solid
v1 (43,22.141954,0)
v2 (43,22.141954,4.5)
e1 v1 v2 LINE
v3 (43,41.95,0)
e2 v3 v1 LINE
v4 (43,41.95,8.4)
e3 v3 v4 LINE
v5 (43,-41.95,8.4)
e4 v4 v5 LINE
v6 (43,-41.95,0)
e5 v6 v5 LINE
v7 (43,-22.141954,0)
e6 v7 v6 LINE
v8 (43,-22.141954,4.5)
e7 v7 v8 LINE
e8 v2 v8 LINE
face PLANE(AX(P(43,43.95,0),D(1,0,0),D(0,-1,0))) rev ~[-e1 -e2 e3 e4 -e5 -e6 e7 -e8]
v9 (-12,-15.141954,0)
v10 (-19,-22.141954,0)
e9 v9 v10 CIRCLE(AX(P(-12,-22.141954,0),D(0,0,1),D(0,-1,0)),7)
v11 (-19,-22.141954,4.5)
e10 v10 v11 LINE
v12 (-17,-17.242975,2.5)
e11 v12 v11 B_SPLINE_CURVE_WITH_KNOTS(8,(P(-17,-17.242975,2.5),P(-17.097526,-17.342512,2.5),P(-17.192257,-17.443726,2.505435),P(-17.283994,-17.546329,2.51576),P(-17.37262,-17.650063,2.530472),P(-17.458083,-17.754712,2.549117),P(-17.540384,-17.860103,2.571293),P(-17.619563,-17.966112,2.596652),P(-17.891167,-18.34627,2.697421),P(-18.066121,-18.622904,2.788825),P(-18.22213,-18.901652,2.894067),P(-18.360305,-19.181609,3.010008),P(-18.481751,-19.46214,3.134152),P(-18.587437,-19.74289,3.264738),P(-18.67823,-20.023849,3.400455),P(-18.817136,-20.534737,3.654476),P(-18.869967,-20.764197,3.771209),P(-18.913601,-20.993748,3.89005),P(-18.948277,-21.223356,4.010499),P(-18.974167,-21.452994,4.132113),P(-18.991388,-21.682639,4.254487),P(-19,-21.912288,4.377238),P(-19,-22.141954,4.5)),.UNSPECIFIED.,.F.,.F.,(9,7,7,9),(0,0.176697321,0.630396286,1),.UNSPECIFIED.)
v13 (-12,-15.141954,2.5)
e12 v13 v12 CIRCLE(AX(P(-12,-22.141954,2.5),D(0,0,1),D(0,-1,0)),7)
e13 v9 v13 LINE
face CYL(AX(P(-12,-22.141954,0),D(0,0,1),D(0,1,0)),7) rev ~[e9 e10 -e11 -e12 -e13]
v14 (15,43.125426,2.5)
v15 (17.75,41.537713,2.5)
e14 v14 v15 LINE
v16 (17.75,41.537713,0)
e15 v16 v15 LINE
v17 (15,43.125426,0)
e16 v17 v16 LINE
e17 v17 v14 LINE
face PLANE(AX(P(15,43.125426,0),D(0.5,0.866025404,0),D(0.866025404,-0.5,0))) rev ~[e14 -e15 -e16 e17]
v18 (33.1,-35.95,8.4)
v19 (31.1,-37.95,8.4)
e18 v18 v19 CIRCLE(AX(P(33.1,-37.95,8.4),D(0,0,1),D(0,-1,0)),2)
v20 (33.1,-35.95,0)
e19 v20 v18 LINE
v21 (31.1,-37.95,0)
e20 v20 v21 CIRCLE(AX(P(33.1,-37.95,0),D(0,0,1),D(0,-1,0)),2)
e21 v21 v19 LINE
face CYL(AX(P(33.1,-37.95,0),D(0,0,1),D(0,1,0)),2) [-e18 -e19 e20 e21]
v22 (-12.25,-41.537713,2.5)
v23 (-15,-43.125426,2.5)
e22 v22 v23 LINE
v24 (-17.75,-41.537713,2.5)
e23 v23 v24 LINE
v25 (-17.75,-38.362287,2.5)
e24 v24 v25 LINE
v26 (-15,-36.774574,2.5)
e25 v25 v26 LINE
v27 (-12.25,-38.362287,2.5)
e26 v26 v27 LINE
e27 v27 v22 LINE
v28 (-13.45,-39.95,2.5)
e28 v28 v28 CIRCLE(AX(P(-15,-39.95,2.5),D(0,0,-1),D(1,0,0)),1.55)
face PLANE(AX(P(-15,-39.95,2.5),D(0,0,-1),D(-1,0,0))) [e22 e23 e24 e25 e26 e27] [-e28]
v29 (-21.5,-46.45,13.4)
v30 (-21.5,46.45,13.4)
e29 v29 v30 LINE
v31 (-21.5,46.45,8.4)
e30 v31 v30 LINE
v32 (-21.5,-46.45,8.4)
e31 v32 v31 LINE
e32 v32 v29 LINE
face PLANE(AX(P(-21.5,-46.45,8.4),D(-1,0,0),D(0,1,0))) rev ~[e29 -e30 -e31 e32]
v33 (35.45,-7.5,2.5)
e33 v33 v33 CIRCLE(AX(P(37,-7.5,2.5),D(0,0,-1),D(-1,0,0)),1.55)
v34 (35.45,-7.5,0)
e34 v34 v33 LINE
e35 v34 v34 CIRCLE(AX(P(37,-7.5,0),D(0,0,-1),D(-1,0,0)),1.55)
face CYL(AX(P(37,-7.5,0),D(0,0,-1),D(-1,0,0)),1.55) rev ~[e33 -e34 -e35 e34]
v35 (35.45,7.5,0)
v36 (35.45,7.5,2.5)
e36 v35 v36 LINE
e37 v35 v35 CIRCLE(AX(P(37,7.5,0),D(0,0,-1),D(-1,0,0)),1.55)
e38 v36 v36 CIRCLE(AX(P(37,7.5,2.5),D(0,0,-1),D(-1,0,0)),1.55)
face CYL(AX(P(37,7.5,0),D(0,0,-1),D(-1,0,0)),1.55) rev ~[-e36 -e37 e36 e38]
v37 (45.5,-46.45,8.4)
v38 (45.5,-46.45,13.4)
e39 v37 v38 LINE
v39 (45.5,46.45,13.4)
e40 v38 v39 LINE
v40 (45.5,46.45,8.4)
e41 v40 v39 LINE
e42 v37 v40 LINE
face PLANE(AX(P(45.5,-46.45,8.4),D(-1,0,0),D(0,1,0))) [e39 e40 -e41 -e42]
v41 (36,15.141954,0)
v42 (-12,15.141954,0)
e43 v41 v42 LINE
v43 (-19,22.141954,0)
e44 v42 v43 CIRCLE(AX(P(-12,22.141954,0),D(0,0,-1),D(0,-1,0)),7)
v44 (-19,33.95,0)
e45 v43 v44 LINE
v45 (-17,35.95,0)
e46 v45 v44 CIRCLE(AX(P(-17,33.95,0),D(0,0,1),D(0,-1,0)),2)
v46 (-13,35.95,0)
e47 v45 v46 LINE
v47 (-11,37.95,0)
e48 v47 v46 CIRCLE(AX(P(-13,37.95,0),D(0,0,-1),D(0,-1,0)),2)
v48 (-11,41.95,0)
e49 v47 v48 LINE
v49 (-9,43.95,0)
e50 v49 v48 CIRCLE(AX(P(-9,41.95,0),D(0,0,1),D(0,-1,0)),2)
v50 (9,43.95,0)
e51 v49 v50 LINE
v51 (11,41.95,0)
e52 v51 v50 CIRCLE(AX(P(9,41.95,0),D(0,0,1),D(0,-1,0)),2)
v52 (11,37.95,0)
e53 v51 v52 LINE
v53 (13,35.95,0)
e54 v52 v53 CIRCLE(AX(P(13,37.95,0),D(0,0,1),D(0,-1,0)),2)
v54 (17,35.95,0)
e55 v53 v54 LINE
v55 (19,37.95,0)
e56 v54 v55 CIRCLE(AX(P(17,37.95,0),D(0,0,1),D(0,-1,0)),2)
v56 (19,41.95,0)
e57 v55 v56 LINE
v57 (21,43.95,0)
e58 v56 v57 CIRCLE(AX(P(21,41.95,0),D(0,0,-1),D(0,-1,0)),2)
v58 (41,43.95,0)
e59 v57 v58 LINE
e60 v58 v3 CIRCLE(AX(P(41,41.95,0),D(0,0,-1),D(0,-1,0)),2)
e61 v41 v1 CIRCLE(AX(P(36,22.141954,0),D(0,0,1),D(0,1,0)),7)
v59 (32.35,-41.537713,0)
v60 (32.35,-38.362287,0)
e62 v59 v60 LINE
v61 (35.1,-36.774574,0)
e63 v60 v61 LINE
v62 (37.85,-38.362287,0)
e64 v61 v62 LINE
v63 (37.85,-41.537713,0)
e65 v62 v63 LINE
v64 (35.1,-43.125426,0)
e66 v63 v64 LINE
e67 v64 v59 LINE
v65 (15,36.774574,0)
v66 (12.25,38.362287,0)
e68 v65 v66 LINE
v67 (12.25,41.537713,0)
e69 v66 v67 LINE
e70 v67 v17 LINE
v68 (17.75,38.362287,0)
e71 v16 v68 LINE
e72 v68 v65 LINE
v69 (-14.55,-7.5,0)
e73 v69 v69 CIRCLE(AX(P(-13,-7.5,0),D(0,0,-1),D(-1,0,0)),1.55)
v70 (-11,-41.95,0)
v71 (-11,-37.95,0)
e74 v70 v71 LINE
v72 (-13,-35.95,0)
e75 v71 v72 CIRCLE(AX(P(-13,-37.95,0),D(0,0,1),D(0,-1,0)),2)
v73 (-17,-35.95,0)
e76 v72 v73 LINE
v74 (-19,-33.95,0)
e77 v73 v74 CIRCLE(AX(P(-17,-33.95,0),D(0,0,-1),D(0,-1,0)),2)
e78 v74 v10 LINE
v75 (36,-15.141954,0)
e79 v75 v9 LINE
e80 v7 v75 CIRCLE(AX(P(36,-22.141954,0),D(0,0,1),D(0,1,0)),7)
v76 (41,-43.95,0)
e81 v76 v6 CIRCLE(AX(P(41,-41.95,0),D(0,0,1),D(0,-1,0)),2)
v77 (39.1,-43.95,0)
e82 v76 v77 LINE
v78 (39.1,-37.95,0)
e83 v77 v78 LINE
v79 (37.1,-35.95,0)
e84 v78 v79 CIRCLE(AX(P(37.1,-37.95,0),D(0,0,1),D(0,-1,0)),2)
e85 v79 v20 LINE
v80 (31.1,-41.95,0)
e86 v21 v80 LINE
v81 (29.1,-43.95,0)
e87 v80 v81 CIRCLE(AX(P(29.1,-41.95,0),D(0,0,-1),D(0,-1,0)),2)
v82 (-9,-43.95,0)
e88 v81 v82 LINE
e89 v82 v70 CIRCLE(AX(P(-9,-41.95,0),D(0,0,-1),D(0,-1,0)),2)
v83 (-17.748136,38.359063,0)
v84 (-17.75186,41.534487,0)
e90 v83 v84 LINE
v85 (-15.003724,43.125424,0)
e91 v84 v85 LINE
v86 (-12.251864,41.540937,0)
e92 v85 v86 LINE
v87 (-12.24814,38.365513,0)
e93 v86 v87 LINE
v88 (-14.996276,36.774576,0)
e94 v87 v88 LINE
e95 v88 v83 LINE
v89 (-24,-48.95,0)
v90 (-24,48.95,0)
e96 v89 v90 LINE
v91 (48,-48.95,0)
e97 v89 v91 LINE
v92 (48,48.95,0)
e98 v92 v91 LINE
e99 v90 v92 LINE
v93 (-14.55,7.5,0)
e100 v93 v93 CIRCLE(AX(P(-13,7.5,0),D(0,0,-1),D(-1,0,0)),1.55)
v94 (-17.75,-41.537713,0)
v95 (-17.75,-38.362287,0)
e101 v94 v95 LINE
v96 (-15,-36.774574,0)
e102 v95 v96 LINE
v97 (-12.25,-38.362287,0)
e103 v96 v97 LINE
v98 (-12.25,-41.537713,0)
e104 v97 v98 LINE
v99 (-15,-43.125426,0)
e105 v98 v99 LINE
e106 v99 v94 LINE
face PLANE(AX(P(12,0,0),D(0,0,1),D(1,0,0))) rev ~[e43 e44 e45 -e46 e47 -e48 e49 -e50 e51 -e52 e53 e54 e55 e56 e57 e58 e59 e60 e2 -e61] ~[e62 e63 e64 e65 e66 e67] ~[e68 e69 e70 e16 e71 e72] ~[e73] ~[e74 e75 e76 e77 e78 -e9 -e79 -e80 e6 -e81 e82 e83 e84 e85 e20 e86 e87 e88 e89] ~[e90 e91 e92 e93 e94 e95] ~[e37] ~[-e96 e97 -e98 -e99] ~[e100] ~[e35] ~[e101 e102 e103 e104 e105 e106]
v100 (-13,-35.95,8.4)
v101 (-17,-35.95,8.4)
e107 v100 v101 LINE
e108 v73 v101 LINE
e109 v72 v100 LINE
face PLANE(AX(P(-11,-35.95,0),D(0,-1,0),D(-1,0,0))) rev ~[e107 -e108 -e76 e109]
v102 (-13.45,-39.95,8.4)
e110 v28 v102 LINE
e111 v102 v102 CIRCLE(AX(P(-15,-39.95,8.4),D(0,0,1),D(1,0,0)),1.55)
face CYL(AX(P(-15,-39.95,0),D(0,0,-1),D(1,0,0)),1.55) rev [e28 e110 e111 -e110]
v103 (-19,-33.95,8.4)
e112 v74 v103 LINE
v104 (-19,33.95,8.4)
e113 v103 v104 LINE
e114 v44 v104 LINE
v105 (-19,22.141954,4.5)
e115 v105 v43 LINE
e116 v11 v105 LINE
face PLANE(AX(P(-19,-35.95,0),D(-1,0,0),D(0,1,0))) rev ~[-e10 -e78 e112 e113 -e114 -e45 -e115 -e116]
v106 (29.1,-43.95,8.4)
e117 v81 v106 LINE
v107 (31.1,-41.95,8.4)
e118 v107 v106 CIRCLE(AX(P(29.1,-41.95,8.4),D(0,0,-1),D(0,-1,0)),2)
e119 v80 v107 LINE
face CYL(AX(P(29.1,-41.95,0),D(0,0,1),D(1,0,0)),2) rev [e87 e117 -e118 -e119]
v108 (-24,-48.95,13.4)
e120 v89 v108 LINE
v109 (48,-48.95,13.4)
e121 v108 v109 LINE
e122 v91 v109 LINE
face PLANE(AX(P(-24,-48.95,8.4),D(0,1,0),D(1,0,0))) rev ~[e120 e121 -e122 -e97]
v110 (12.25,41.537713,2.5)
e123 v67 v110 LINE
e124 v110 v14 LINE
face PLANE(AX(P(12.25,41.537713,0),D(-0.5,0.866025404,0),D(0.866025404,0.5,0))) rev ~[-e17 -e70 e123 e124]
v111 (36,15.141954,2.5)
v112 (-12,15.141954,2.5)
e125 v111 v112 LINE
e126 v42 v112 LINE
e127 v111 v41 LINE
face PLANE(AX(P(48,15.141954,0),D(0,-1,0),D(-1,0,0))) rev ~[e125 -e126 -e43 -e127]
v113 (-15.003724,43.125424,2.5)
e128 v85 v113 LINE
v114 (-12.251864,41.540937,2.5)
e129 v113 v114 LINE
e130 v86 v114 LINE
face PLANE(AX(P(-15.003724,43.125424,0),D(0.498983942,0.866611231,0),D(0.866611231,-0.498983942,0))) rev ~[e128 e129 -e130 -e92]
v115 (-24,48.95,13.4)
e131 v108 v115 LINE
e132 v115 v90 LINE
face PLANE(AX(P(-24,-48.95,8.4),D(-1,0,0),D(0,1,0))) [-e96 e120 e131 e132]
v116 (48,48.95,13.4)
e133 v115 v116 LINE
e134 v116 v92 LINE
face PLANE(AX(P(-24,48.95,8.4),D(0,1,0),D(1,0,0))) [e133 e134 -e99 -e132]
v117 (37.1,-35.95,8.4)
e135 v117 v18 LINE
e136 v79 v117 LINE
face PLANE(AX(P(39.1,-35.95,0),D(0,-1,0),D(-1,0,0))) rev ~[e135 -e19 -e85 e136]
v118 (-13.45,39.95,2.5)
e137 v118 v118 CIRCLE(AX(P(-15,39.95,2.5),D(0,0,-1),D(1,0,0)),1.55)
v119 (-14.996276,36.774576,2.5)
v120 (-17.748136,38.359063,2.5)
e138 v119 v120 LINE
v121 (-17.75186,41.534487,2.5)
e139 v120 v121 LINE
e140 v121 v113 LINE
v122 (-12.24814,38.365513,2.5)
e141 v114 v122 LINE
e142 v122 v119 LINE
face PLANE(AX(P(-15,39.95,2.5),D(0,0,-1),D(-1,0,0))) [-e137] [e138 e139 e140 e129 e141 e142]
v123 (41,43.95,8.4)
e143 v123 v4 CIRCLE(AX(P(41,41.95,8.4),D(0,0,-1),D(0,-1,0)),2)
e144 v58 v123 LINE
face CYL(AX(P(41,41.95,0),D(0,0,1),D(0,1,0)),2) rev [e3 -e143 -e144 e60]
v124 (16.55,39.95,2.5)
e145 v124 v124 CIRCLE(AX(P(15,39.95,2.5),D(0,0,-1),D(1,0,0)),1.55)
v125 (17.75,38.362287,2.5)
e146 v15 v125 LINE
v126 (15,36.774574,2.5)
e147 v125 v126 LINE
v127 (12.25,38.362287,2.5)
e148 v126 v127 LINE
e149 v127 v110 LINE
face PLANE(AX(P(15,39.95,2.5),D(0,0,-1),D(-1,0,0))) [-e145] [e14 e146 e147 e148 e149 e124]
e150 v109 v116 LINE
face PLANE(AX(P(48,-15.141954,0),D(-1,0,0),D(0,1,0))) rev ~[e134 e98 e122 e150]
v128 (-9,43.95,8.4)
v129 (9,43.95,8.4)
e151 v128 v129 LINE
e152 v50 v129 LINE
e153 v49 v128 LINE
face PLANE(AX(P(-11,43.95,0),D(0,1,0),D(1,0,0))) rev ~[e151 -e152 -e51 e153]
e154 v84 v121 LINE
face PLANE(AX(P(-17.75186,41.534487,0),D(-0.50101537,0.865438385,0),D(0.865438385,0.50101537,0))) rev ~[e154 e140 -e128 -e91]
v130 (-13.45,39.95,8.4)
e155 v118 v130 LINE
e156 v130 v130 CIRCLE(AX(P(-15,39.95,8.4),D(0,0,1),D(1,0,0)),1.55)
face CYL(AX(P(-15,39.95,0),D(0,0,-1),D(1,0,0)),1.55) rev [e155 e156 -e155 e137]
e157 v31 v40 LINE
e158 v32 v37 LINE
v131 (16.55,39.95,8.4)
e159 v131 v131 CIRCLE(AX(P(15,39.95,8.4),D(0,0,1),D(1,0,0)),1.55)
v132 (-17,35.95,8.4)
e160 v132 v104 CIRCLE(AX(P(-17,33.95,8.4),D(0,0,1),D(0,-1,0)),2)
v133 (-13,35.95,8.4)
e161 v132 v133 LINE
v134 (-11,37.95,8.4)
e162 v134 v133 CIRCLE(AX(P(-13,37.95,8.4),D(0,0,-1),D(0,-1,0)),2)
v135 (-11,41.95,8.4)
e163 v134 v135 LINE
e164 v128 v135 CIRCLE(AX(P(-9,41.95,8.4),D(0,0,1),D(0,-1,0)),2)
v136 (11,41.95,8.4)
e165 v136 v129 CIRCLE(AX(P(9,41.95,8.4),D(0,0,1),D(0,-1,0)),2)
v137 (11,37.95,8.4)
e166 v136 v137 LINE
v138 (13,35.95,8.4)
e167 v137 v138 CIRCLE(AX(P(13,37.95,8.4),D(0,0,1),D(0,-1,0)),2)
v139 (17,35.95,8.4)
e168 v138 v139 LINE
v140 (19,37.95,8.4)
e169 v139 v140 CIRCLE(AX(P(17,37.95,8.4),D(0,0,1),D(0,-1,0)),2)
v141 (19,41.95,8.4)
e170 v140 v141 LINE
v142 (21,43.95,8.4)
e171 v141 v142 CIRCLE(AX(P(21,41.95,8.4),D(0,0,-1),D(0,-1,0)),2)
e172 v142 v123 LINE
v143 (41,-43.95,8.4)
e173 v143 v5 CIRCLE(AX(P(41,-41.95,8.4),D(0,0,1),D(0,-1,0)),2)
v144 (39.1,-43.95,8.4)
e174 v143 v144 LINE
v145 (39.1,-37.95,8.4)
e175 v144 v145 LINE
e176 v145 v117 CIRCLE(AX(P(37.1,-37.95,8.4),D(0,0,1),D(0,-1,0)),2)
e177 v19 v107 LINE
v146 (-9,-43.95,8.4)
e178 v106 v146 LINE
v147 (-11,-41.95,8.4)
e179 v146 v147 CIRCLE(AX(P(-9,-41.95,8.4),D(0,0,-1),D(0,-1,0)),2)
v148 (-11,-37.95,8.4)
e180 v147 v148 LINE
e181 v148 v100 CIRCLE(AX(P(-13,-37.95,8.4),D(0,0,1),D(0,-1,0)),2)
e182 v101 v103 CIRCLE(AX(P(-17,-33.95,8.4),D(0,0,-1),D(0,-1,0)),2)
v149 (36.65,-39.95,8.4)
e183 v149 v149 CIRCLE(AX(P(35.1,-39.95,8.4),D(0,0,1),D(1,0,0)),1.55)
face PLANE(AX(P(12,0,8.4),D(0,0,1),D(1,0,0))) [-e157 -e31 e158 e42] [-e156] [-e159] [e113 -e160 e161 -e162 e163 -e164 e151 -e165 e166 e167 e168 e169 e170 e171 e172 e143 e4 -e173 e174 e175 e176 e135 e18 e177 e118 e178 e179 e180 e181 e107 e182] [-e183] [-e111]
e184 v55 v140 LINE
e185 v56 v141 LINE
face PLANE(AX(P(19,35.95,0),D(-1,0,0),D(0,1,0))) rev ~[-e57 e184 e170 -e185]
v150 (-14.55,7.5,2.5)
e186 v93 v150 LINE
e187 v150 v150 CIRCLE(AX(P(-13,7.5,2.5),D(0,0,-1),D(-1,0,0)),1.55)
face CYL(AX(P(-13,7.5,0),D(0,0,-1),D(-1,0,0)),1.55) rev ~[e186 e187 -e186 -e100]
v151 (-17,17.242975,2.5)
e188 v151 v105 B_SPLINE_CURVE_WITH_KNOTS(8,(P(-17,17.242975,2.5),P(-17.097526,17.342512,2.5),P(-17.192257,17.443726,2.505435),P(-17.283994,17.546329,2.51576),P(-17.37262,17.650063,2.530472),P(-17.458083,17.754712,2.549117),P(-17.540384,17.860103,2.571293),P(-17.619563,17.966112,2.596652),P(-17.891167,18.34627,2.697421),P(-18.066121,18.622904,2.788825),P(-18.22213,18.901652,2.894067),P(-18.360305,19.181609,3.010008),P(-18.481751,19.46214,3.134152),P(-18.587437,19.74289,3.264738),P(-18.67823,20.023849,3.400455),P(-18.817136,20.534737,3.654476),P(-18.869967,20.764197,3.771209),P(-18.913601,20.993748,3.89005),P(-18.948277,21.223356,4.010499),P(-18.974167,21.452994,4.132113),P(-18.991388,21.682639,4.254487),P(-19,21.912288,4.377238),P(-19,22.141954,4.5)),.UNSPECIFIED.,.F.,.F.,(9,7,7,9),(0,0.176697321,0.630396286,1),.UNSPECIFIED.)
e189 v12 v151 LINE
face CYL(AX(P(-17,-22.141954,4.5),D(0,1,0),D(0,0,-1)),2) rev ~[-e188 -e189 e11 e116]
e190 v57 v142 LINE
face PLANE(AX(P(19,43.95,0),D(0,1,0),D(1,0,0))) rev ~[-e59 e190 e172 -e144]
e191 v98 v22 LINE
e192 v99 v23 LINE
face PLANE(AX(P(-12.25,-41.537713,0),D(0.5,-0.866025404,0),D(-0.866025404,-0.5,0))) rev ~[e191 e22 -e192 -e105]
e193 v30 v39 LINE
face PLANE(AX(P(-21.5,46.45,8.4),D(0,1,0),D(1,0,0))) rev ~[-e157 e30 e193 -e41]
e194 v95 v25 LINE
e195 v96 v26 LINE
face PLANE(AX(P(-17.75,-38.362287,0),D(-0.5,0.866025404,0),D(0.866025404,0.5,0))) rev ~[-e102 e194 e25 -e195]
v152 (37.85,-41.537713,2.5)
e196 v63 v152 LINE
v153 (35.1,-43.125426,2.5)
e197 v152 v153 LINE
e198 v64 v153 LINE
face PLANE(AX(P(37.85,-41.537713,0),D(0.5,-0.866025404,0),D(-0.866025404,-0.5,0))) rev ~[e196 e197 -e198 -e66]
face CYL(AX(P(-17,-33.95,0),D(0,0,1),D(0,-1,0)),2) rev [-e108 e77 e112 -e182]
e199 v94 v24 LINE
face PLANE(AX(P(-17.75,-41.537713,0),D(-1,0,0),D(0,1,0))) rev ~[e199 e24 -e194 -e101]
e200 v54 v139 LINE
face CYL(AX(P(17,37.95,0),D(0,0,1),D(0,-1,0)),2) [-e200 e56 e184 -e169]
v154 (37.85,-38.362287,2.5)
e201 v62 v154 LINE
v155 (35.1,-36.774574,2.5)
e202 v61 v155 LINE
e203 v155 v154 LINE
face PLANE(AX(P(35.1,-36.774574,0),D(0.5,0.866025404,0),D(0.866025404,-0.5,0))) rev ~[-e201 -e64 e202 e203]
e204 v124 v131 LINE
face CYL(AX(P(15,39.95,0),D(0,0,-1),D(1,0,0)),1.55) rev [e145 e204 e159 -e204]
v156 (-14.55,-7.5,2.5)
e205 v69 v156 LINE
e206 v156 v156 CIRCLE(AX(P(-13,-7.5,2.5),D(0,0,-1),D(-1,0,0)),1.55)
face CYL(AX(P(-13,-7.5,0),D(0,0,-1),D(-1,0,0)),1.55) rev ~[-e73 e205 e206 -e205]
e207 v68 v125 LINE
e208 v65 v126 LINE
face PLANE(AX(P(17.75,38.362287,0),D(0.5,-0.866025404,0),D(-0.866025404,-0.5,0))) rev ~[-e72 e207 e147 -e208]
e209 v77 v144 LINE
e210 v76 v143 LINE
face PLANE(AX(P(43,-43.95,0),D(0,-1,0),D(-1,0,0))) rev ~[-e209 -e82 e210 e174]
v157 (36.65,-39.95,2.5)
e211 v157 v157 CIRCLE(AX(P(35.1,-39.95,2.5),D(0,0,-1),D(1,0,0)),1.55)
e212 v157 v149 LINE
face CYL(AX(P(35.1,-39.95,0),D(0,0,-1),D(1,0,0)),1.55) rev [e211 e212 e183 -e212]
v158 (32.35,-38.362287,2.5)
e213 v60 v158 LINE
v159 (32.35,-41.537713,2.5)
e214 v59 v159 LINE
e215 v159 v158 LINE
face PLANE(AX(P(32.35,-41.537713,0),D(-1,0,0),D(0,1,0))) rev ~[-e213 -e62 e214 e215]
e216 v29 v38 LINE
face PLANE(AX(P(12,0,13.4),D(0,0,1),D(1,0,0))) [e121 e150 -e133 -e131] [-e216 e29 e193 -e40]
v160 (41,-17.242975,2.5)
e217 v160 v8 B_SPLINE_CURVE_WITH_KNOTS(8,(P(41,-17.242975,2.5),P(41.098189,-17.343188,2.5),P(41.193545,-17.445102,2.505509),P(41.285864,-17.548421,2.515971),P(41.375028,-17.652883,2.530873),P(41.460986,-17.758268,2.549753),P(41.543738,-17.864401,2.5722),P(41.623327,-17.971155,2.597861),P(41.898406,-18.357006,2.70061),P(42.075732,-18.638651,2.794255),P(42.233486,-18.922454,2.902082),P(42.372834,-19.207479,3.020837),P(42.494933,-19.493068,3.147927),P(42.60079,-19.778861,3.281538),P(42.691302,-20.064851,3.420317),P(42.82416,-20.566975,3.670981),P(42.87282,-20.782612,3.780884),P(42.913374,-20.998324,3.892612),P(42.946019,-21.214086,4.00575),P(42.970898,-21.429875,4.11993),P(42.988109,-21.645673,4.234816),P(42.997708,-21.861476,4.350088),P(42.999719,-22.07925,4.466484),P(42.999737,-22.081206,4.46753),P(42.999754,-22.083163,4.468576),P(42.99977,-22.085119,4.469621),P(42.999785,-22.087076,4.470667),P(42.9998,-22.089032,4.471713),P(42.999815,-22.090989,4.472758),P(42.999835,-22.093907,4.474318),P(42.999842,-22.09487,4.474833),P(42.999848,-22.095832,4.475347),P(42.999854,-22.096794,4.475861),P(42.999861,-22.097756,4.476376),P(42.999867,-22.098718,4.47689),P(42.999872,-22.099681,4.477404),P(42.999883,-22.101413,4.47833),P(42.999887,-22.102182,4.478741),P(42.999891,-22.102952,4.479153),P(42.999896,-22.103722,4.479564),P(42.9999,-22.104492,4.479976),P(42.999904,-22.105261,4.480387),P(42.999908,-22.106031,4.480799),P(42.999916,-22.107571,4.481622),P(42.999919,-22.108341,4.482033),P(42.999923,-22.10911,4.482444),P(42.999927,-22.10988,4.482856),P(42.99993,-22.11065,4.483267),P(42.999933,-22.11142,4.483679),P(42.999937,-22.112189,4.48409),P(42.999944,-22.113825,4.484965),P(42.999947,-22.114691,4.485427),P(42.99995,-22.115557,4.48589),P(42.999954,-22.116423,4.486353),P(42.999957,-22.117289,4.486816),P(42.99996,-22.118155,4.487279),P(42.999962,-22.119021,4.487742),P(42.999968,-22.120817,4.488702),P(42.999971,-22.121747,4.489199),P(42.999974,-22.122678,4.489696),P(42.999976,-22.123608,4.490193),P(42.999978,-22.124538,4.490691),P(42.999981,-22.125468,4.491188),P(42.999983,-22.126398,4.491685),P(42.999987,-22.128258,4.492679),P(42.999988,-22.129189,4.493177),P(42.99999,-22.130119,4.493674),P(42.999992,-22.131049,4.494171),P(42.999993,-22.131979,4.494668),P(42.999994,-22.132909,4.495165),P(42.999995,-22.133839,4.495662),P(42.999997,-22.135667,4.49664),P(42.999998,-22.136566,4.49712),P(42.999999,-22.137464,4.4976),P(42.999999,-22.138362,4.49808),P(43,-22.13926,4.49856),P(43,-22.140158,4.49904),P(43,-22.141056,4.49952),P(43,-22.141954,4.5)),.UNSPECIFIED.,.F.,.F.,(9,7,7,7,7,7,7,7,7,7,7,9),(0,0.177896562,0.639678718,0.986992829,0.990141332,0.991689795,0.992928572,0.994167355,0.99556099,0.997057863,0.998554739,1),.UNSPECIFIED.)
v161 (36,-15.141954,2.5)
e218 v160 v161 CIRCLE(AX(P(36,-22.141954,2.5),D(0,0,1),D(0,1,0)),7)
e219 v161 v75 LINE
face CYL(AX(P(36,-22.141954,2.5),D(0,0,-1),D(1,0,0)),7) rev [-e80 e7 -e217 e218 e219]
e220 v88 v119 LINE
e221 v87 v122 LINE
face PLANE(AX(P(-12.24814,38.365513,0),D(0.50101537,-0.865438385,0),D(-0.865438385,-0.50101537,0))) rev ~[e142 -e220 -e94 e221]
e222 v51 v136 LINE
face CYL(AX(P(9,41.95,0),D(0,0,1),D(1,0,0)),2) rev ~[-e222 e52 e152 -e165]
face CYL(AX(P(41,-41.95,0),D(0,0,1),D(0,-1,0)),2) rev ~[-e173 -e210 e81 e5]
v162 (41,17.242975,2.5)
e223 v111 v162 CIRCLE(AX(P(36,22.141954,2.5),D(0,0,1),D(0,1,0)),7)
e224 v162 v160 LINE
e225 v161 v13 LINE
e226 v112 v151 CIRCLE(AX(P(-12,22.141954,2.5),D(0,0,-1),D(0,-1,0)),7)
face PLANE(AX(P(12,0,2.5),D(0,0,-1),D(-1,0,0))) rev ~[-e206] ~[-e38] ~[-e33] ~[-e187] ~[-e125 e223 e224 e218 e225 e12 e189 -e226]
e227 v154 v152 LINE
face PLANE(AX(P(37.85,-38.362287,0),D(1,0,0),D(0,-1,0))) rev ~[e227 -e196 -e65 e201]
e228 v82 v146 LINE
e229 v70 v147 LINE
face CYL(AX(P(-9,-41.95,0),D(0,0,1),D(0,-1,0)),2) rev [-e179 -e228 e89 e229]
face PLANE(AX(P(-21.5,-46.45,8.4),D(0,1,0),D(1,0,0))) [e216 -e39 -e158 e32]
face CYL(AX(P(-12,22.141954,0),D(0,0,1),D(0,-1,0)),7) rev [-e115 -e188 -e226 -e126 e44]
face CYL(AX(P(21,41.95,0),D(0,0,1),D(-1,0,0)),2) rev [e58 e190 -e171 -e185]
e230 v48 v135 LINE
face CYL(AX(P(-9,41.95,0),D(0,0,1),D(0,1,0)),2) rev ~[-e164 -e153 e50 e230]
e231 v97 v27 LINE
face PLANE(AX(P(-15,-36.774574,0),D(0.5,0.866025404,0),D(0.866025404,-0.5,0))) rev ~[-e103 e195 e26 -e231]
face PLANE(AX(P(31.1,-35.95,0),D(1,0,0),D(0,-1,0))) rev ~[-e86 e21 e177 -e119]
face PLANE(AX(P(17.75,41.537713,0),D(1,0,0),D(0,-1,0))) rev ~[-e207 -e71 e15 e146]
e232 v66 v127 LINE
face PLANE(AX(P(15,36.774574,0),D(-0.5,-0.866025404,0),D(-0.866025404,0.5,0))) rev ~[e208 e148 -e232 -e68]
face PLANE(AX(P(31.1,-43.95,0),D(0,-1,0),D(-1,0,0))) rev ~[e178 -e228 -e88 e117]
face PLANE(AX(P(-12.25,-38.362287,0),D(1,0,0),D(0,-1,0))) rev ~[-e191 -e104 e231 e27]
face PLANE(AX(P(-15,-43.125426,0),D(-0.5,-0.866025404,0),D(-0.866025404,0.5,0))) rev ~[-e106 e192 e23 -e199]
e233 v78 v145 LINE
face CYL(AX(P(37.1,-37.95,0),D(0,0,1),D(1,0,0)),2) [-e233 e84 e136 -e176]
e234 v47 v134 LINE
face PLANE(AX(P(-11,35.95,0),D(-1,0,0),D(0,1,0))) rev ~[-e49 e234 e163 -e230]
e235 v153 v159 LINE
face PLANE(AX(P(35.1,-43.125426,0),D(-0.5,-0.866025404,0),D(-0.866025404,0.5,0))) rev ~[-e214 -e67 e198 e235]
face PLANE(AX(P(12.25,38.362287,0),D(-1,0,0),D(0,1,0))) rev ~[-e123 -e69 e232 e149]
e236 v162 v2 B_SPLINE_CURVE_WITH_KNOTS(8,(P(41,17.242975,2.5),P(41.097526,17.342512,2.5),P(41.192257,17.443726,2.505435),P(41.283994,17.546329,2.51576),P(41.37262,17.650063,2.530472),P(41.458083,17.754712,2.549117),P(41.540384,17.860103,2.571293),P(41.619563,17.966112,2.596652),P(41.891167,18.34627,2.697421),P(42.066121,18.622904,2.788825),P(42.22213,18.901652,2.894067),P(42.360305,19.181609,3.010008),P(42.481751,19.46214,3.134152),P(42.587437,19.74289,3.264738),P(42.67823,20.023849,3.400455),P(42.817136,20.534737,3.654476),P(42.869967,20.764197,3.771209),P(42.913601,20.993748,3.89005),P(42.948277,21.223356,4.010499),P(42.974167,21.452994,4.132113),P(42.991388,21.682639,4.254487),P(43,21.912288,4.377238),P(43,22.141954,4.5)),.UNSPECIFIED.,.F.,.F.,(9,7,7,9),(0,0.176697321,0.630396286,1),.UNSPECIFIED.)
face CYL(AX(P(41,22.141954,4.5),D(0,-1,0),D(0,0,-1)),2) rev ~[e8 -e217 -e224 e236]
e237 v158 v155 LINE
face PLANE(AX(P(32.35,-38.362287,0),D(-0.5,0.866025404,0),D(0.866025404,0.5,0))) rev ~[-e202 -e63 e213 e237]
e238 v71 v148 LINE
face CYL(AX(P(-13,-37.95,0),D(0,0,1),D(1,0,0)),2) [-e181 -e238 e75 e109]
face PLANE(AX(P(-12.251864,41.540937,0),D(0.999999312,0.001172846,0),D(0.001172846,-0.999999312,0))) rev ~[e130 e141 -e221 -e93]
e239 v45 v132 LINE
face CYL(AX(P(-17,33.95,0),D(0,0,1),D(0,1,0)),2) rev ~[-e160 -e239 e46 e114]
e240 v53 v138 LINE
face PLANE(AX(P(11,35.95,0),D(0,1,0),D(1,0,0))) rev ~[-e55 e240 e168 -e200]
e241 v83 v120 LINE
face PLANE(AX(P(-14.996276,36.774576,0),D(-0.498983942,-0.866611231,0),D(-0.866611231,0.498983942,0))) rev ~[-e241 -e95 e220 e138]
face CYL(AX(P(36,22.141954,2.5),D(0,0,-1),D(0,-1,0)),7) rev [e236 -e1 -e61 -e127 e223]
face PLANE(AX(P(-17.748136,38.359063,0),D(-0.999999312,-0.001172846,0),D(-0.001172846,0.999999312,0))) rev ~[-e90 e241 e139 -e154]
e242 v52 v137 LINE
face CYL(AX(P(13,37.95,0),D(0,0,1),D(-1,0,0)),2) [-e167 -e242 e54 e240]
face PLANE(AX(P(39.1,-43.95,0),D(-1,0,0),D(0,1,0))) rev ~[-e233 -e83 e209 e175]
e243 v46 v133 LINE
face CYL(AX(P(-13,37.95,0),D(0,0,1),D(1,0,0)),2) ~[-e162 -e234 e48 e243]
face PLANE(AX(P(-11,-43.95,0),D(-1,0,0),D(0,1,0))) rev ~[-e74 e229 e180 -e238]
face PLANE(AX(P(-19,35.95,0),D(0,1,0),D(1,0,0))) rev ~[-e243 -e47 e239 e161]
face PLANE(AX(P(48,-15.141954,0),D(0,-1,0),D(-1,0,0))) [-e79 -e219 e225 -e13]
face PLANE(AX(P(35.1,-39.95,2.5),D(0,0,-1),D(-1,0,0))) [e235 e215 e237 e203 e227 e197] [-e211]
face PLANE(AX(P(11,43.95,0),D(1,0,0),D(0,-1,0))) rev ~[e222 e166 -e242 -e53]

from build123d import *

# Parameters (mm, degrees)
ESQUISSE1_W             = 72
ESQUISSE1_H             = 97.9
ESQUISSE1_R             = 1.55
BOSS_EXTRU_1_DEPTH      = 8.4
ENL_V_MAT_EXTRU_1_DEPTH = 2.5
ESQUISSE3_W             = 72
ESQUISSE3_H             = 97.9
ESQUISSE3_W_2           = 67
ESQUISSE3_H_2           = 92.9
BOSS_EXTRU_2_DEPTH      = 5
ESQUISSE4_W             = 72
ESQUISSE4_H             = 30.283908022
ESQUISSE4_R             = 1.55
BOSS_EXTRU_3_DEPTH      = 2.5
CONG_2_R                = 7
CONG_4_R                = 2


with BuildPart() as part:
    # Esquisse1 → Boss.-Extru.1 (new body)
    with BuildSketch(Plane.XY):
        with Locations((12, 0)):
            Rectangle(ESQUISSE1_W, ESQUISSE1_H)
        with Locations((15, 39.95)):
            Circle(ESQUISSE1_R, mode=Mode.SUBTRACT)
        with Locations((-15, 39.95)):
            Circle(ESQUISSE1_R, mode=Mode.SUBTRACT)
        with Locations((-15, -39.95)):
            Circle(ESQUISSE1_R, mode=Mode.SUBTRACT)
        with Locations((35.1, -39.95)):
            Circle(ESQUISSE1_R, mode=Mode.SUBTRACT)
        Polygon((-19, 35.95), (-11, 35.95), (-11, 43.95), (11, 43.95), (11, 35.95), (19, 35.95), (19, 43.95), (43, 43.95), (43, -43.95), (39.1, -43.95), (39.1, -35.95), (31.1, -35.95), (31.1, -43.95), (-11, -43.95), (-11, -35.95), (-19, -35.95), align=None, mode=Mode.SUBTRACT)
    extrude(amount=BOSS_EXTRU_1_DEPTH)

    # Esquisse2 → Enlèv. mat.-Extru.1 (cut)
    with BuildSketch(Plane(origin=(0, 0, 0), x_dir=(-1, 0, 0), z_dir=(0, 0, -1))):
        Polygon((-15, 36.774573519), (-12.25, 38.36228676), (-12.25, 41.53771324), (-15, 43.125426481), (-17.75, 41.53771324), (-17.75, 38.36228676), align=None)
        Polygon((14.996275716, 36.774575703), (17.748135966, 38.359062527), (17.751860251, 41.534486823), (15.003724284, 43.125424297), (12.251864034, 41.540937473), (12.248139749, 38.365513177), align=None)
        Polygon((15, -43.125426481), (17.75, -41.53771324), (17.75, -38.36228676), (15, -36.774573519), (12.25, -38.36228676), (12.25, -41.53771324), align=None)
        Polygon((-35.1, -43.125426481), (-32.35, -41.53771324), (-32.35, -38.36228676), (-35.1, -36.774573519), (-37.85, -38.36228676), (-37.85, -41.53771324), align=None)
    extrude(amount=-ENL_V_MAT_EXTRU_1_DEPTH, mode=Mode.SUBTRACT)

    # Esquisse3 → Boss.-Extru.2 (add)
    with BuildSketch(Plane.XY.offset(8.4)):
        with Locations((12, 0)):
            Rectangle(ESQUISSE3_W, ESQUISSE3_H)
        with Locations((12, 0)):
            Rectangle(ESQUISSE3_W_2, ESQUISSE3_H_2, mode=Mode.SUBTRACT)
    extrude(amount=BOSS_EXTRU_2_DEPTH)

    # Esquisse4 → Boss.-Extru.3 (add)
    with BuildSketch(Plane(origin=(0, 0, 0), x_dir=(-1, 0, 0), z_dir=(0, 0, -1))):
        with Locations((-12, 0)):
            Rectangle(ESQUISSE4_W, ESQUISSE4_H)
        with Locations((-37, 7.5)):
            Circle(ESQUISSE4_R, mode=Mode.SUBTRACT)
        with Locations((-37, -7.5)):
            Circle(ESQUISSE4_R, mode=Mode.SUBTRACT)
        with Locations((13, -7.5)):
            Circle(ESQUISSE4_R, mode=Mode.SUBTRACT)
        with Locations((13, 7.5)):
            Circle(ESQUISSE4_R, mode=Mode.SUBTRACT)
    extrude(amount=-BOSS_EXTRU_3_DEPTH)

    # Congé2
    cong_2_edges = [part.edges().sort_by_distance(p)[0] for p in [
        (43, -15.141954011, 1.25),
        (43, 15.141954011, 1.25),
        (-19, 15.141954011, 1.25),
        (-19, -15.141954011, 1.25),
    ]]
    fillet(cong_2_edges, radius=CONG_2_R)

    # Congé4
    cong_4_edges = [part.edges().sort_by_distance(p)[0] for p in [
        (43, 0, 2.5),
        (-19, 0, 2.5),
        (-19, 35.95, 4.2),
        (-19, -35.95, 4.2),
        (-11, -35.95, 4.2),
        (-11, -43.95, 4.2),
        (31.1, -43.95, 4.2),
        (31.1, -35.95, 4.2),
        (39.1, -35.95, 4.2),
        (43, -43.95, 4.2),
        (43, 43.95, 4.2),
        (19, 43.95, 4.2),
        (19, 35.95, 4.2),
        (11, 35.95, 4.2),
        (11, 43.95, 4.2),
        (-11, 43.95, 4.2),
        (-11, 35.95, 4.2),
    ]]
    fillet(cong_4_edges, radius=CONG_4_R)


solid = part.part
